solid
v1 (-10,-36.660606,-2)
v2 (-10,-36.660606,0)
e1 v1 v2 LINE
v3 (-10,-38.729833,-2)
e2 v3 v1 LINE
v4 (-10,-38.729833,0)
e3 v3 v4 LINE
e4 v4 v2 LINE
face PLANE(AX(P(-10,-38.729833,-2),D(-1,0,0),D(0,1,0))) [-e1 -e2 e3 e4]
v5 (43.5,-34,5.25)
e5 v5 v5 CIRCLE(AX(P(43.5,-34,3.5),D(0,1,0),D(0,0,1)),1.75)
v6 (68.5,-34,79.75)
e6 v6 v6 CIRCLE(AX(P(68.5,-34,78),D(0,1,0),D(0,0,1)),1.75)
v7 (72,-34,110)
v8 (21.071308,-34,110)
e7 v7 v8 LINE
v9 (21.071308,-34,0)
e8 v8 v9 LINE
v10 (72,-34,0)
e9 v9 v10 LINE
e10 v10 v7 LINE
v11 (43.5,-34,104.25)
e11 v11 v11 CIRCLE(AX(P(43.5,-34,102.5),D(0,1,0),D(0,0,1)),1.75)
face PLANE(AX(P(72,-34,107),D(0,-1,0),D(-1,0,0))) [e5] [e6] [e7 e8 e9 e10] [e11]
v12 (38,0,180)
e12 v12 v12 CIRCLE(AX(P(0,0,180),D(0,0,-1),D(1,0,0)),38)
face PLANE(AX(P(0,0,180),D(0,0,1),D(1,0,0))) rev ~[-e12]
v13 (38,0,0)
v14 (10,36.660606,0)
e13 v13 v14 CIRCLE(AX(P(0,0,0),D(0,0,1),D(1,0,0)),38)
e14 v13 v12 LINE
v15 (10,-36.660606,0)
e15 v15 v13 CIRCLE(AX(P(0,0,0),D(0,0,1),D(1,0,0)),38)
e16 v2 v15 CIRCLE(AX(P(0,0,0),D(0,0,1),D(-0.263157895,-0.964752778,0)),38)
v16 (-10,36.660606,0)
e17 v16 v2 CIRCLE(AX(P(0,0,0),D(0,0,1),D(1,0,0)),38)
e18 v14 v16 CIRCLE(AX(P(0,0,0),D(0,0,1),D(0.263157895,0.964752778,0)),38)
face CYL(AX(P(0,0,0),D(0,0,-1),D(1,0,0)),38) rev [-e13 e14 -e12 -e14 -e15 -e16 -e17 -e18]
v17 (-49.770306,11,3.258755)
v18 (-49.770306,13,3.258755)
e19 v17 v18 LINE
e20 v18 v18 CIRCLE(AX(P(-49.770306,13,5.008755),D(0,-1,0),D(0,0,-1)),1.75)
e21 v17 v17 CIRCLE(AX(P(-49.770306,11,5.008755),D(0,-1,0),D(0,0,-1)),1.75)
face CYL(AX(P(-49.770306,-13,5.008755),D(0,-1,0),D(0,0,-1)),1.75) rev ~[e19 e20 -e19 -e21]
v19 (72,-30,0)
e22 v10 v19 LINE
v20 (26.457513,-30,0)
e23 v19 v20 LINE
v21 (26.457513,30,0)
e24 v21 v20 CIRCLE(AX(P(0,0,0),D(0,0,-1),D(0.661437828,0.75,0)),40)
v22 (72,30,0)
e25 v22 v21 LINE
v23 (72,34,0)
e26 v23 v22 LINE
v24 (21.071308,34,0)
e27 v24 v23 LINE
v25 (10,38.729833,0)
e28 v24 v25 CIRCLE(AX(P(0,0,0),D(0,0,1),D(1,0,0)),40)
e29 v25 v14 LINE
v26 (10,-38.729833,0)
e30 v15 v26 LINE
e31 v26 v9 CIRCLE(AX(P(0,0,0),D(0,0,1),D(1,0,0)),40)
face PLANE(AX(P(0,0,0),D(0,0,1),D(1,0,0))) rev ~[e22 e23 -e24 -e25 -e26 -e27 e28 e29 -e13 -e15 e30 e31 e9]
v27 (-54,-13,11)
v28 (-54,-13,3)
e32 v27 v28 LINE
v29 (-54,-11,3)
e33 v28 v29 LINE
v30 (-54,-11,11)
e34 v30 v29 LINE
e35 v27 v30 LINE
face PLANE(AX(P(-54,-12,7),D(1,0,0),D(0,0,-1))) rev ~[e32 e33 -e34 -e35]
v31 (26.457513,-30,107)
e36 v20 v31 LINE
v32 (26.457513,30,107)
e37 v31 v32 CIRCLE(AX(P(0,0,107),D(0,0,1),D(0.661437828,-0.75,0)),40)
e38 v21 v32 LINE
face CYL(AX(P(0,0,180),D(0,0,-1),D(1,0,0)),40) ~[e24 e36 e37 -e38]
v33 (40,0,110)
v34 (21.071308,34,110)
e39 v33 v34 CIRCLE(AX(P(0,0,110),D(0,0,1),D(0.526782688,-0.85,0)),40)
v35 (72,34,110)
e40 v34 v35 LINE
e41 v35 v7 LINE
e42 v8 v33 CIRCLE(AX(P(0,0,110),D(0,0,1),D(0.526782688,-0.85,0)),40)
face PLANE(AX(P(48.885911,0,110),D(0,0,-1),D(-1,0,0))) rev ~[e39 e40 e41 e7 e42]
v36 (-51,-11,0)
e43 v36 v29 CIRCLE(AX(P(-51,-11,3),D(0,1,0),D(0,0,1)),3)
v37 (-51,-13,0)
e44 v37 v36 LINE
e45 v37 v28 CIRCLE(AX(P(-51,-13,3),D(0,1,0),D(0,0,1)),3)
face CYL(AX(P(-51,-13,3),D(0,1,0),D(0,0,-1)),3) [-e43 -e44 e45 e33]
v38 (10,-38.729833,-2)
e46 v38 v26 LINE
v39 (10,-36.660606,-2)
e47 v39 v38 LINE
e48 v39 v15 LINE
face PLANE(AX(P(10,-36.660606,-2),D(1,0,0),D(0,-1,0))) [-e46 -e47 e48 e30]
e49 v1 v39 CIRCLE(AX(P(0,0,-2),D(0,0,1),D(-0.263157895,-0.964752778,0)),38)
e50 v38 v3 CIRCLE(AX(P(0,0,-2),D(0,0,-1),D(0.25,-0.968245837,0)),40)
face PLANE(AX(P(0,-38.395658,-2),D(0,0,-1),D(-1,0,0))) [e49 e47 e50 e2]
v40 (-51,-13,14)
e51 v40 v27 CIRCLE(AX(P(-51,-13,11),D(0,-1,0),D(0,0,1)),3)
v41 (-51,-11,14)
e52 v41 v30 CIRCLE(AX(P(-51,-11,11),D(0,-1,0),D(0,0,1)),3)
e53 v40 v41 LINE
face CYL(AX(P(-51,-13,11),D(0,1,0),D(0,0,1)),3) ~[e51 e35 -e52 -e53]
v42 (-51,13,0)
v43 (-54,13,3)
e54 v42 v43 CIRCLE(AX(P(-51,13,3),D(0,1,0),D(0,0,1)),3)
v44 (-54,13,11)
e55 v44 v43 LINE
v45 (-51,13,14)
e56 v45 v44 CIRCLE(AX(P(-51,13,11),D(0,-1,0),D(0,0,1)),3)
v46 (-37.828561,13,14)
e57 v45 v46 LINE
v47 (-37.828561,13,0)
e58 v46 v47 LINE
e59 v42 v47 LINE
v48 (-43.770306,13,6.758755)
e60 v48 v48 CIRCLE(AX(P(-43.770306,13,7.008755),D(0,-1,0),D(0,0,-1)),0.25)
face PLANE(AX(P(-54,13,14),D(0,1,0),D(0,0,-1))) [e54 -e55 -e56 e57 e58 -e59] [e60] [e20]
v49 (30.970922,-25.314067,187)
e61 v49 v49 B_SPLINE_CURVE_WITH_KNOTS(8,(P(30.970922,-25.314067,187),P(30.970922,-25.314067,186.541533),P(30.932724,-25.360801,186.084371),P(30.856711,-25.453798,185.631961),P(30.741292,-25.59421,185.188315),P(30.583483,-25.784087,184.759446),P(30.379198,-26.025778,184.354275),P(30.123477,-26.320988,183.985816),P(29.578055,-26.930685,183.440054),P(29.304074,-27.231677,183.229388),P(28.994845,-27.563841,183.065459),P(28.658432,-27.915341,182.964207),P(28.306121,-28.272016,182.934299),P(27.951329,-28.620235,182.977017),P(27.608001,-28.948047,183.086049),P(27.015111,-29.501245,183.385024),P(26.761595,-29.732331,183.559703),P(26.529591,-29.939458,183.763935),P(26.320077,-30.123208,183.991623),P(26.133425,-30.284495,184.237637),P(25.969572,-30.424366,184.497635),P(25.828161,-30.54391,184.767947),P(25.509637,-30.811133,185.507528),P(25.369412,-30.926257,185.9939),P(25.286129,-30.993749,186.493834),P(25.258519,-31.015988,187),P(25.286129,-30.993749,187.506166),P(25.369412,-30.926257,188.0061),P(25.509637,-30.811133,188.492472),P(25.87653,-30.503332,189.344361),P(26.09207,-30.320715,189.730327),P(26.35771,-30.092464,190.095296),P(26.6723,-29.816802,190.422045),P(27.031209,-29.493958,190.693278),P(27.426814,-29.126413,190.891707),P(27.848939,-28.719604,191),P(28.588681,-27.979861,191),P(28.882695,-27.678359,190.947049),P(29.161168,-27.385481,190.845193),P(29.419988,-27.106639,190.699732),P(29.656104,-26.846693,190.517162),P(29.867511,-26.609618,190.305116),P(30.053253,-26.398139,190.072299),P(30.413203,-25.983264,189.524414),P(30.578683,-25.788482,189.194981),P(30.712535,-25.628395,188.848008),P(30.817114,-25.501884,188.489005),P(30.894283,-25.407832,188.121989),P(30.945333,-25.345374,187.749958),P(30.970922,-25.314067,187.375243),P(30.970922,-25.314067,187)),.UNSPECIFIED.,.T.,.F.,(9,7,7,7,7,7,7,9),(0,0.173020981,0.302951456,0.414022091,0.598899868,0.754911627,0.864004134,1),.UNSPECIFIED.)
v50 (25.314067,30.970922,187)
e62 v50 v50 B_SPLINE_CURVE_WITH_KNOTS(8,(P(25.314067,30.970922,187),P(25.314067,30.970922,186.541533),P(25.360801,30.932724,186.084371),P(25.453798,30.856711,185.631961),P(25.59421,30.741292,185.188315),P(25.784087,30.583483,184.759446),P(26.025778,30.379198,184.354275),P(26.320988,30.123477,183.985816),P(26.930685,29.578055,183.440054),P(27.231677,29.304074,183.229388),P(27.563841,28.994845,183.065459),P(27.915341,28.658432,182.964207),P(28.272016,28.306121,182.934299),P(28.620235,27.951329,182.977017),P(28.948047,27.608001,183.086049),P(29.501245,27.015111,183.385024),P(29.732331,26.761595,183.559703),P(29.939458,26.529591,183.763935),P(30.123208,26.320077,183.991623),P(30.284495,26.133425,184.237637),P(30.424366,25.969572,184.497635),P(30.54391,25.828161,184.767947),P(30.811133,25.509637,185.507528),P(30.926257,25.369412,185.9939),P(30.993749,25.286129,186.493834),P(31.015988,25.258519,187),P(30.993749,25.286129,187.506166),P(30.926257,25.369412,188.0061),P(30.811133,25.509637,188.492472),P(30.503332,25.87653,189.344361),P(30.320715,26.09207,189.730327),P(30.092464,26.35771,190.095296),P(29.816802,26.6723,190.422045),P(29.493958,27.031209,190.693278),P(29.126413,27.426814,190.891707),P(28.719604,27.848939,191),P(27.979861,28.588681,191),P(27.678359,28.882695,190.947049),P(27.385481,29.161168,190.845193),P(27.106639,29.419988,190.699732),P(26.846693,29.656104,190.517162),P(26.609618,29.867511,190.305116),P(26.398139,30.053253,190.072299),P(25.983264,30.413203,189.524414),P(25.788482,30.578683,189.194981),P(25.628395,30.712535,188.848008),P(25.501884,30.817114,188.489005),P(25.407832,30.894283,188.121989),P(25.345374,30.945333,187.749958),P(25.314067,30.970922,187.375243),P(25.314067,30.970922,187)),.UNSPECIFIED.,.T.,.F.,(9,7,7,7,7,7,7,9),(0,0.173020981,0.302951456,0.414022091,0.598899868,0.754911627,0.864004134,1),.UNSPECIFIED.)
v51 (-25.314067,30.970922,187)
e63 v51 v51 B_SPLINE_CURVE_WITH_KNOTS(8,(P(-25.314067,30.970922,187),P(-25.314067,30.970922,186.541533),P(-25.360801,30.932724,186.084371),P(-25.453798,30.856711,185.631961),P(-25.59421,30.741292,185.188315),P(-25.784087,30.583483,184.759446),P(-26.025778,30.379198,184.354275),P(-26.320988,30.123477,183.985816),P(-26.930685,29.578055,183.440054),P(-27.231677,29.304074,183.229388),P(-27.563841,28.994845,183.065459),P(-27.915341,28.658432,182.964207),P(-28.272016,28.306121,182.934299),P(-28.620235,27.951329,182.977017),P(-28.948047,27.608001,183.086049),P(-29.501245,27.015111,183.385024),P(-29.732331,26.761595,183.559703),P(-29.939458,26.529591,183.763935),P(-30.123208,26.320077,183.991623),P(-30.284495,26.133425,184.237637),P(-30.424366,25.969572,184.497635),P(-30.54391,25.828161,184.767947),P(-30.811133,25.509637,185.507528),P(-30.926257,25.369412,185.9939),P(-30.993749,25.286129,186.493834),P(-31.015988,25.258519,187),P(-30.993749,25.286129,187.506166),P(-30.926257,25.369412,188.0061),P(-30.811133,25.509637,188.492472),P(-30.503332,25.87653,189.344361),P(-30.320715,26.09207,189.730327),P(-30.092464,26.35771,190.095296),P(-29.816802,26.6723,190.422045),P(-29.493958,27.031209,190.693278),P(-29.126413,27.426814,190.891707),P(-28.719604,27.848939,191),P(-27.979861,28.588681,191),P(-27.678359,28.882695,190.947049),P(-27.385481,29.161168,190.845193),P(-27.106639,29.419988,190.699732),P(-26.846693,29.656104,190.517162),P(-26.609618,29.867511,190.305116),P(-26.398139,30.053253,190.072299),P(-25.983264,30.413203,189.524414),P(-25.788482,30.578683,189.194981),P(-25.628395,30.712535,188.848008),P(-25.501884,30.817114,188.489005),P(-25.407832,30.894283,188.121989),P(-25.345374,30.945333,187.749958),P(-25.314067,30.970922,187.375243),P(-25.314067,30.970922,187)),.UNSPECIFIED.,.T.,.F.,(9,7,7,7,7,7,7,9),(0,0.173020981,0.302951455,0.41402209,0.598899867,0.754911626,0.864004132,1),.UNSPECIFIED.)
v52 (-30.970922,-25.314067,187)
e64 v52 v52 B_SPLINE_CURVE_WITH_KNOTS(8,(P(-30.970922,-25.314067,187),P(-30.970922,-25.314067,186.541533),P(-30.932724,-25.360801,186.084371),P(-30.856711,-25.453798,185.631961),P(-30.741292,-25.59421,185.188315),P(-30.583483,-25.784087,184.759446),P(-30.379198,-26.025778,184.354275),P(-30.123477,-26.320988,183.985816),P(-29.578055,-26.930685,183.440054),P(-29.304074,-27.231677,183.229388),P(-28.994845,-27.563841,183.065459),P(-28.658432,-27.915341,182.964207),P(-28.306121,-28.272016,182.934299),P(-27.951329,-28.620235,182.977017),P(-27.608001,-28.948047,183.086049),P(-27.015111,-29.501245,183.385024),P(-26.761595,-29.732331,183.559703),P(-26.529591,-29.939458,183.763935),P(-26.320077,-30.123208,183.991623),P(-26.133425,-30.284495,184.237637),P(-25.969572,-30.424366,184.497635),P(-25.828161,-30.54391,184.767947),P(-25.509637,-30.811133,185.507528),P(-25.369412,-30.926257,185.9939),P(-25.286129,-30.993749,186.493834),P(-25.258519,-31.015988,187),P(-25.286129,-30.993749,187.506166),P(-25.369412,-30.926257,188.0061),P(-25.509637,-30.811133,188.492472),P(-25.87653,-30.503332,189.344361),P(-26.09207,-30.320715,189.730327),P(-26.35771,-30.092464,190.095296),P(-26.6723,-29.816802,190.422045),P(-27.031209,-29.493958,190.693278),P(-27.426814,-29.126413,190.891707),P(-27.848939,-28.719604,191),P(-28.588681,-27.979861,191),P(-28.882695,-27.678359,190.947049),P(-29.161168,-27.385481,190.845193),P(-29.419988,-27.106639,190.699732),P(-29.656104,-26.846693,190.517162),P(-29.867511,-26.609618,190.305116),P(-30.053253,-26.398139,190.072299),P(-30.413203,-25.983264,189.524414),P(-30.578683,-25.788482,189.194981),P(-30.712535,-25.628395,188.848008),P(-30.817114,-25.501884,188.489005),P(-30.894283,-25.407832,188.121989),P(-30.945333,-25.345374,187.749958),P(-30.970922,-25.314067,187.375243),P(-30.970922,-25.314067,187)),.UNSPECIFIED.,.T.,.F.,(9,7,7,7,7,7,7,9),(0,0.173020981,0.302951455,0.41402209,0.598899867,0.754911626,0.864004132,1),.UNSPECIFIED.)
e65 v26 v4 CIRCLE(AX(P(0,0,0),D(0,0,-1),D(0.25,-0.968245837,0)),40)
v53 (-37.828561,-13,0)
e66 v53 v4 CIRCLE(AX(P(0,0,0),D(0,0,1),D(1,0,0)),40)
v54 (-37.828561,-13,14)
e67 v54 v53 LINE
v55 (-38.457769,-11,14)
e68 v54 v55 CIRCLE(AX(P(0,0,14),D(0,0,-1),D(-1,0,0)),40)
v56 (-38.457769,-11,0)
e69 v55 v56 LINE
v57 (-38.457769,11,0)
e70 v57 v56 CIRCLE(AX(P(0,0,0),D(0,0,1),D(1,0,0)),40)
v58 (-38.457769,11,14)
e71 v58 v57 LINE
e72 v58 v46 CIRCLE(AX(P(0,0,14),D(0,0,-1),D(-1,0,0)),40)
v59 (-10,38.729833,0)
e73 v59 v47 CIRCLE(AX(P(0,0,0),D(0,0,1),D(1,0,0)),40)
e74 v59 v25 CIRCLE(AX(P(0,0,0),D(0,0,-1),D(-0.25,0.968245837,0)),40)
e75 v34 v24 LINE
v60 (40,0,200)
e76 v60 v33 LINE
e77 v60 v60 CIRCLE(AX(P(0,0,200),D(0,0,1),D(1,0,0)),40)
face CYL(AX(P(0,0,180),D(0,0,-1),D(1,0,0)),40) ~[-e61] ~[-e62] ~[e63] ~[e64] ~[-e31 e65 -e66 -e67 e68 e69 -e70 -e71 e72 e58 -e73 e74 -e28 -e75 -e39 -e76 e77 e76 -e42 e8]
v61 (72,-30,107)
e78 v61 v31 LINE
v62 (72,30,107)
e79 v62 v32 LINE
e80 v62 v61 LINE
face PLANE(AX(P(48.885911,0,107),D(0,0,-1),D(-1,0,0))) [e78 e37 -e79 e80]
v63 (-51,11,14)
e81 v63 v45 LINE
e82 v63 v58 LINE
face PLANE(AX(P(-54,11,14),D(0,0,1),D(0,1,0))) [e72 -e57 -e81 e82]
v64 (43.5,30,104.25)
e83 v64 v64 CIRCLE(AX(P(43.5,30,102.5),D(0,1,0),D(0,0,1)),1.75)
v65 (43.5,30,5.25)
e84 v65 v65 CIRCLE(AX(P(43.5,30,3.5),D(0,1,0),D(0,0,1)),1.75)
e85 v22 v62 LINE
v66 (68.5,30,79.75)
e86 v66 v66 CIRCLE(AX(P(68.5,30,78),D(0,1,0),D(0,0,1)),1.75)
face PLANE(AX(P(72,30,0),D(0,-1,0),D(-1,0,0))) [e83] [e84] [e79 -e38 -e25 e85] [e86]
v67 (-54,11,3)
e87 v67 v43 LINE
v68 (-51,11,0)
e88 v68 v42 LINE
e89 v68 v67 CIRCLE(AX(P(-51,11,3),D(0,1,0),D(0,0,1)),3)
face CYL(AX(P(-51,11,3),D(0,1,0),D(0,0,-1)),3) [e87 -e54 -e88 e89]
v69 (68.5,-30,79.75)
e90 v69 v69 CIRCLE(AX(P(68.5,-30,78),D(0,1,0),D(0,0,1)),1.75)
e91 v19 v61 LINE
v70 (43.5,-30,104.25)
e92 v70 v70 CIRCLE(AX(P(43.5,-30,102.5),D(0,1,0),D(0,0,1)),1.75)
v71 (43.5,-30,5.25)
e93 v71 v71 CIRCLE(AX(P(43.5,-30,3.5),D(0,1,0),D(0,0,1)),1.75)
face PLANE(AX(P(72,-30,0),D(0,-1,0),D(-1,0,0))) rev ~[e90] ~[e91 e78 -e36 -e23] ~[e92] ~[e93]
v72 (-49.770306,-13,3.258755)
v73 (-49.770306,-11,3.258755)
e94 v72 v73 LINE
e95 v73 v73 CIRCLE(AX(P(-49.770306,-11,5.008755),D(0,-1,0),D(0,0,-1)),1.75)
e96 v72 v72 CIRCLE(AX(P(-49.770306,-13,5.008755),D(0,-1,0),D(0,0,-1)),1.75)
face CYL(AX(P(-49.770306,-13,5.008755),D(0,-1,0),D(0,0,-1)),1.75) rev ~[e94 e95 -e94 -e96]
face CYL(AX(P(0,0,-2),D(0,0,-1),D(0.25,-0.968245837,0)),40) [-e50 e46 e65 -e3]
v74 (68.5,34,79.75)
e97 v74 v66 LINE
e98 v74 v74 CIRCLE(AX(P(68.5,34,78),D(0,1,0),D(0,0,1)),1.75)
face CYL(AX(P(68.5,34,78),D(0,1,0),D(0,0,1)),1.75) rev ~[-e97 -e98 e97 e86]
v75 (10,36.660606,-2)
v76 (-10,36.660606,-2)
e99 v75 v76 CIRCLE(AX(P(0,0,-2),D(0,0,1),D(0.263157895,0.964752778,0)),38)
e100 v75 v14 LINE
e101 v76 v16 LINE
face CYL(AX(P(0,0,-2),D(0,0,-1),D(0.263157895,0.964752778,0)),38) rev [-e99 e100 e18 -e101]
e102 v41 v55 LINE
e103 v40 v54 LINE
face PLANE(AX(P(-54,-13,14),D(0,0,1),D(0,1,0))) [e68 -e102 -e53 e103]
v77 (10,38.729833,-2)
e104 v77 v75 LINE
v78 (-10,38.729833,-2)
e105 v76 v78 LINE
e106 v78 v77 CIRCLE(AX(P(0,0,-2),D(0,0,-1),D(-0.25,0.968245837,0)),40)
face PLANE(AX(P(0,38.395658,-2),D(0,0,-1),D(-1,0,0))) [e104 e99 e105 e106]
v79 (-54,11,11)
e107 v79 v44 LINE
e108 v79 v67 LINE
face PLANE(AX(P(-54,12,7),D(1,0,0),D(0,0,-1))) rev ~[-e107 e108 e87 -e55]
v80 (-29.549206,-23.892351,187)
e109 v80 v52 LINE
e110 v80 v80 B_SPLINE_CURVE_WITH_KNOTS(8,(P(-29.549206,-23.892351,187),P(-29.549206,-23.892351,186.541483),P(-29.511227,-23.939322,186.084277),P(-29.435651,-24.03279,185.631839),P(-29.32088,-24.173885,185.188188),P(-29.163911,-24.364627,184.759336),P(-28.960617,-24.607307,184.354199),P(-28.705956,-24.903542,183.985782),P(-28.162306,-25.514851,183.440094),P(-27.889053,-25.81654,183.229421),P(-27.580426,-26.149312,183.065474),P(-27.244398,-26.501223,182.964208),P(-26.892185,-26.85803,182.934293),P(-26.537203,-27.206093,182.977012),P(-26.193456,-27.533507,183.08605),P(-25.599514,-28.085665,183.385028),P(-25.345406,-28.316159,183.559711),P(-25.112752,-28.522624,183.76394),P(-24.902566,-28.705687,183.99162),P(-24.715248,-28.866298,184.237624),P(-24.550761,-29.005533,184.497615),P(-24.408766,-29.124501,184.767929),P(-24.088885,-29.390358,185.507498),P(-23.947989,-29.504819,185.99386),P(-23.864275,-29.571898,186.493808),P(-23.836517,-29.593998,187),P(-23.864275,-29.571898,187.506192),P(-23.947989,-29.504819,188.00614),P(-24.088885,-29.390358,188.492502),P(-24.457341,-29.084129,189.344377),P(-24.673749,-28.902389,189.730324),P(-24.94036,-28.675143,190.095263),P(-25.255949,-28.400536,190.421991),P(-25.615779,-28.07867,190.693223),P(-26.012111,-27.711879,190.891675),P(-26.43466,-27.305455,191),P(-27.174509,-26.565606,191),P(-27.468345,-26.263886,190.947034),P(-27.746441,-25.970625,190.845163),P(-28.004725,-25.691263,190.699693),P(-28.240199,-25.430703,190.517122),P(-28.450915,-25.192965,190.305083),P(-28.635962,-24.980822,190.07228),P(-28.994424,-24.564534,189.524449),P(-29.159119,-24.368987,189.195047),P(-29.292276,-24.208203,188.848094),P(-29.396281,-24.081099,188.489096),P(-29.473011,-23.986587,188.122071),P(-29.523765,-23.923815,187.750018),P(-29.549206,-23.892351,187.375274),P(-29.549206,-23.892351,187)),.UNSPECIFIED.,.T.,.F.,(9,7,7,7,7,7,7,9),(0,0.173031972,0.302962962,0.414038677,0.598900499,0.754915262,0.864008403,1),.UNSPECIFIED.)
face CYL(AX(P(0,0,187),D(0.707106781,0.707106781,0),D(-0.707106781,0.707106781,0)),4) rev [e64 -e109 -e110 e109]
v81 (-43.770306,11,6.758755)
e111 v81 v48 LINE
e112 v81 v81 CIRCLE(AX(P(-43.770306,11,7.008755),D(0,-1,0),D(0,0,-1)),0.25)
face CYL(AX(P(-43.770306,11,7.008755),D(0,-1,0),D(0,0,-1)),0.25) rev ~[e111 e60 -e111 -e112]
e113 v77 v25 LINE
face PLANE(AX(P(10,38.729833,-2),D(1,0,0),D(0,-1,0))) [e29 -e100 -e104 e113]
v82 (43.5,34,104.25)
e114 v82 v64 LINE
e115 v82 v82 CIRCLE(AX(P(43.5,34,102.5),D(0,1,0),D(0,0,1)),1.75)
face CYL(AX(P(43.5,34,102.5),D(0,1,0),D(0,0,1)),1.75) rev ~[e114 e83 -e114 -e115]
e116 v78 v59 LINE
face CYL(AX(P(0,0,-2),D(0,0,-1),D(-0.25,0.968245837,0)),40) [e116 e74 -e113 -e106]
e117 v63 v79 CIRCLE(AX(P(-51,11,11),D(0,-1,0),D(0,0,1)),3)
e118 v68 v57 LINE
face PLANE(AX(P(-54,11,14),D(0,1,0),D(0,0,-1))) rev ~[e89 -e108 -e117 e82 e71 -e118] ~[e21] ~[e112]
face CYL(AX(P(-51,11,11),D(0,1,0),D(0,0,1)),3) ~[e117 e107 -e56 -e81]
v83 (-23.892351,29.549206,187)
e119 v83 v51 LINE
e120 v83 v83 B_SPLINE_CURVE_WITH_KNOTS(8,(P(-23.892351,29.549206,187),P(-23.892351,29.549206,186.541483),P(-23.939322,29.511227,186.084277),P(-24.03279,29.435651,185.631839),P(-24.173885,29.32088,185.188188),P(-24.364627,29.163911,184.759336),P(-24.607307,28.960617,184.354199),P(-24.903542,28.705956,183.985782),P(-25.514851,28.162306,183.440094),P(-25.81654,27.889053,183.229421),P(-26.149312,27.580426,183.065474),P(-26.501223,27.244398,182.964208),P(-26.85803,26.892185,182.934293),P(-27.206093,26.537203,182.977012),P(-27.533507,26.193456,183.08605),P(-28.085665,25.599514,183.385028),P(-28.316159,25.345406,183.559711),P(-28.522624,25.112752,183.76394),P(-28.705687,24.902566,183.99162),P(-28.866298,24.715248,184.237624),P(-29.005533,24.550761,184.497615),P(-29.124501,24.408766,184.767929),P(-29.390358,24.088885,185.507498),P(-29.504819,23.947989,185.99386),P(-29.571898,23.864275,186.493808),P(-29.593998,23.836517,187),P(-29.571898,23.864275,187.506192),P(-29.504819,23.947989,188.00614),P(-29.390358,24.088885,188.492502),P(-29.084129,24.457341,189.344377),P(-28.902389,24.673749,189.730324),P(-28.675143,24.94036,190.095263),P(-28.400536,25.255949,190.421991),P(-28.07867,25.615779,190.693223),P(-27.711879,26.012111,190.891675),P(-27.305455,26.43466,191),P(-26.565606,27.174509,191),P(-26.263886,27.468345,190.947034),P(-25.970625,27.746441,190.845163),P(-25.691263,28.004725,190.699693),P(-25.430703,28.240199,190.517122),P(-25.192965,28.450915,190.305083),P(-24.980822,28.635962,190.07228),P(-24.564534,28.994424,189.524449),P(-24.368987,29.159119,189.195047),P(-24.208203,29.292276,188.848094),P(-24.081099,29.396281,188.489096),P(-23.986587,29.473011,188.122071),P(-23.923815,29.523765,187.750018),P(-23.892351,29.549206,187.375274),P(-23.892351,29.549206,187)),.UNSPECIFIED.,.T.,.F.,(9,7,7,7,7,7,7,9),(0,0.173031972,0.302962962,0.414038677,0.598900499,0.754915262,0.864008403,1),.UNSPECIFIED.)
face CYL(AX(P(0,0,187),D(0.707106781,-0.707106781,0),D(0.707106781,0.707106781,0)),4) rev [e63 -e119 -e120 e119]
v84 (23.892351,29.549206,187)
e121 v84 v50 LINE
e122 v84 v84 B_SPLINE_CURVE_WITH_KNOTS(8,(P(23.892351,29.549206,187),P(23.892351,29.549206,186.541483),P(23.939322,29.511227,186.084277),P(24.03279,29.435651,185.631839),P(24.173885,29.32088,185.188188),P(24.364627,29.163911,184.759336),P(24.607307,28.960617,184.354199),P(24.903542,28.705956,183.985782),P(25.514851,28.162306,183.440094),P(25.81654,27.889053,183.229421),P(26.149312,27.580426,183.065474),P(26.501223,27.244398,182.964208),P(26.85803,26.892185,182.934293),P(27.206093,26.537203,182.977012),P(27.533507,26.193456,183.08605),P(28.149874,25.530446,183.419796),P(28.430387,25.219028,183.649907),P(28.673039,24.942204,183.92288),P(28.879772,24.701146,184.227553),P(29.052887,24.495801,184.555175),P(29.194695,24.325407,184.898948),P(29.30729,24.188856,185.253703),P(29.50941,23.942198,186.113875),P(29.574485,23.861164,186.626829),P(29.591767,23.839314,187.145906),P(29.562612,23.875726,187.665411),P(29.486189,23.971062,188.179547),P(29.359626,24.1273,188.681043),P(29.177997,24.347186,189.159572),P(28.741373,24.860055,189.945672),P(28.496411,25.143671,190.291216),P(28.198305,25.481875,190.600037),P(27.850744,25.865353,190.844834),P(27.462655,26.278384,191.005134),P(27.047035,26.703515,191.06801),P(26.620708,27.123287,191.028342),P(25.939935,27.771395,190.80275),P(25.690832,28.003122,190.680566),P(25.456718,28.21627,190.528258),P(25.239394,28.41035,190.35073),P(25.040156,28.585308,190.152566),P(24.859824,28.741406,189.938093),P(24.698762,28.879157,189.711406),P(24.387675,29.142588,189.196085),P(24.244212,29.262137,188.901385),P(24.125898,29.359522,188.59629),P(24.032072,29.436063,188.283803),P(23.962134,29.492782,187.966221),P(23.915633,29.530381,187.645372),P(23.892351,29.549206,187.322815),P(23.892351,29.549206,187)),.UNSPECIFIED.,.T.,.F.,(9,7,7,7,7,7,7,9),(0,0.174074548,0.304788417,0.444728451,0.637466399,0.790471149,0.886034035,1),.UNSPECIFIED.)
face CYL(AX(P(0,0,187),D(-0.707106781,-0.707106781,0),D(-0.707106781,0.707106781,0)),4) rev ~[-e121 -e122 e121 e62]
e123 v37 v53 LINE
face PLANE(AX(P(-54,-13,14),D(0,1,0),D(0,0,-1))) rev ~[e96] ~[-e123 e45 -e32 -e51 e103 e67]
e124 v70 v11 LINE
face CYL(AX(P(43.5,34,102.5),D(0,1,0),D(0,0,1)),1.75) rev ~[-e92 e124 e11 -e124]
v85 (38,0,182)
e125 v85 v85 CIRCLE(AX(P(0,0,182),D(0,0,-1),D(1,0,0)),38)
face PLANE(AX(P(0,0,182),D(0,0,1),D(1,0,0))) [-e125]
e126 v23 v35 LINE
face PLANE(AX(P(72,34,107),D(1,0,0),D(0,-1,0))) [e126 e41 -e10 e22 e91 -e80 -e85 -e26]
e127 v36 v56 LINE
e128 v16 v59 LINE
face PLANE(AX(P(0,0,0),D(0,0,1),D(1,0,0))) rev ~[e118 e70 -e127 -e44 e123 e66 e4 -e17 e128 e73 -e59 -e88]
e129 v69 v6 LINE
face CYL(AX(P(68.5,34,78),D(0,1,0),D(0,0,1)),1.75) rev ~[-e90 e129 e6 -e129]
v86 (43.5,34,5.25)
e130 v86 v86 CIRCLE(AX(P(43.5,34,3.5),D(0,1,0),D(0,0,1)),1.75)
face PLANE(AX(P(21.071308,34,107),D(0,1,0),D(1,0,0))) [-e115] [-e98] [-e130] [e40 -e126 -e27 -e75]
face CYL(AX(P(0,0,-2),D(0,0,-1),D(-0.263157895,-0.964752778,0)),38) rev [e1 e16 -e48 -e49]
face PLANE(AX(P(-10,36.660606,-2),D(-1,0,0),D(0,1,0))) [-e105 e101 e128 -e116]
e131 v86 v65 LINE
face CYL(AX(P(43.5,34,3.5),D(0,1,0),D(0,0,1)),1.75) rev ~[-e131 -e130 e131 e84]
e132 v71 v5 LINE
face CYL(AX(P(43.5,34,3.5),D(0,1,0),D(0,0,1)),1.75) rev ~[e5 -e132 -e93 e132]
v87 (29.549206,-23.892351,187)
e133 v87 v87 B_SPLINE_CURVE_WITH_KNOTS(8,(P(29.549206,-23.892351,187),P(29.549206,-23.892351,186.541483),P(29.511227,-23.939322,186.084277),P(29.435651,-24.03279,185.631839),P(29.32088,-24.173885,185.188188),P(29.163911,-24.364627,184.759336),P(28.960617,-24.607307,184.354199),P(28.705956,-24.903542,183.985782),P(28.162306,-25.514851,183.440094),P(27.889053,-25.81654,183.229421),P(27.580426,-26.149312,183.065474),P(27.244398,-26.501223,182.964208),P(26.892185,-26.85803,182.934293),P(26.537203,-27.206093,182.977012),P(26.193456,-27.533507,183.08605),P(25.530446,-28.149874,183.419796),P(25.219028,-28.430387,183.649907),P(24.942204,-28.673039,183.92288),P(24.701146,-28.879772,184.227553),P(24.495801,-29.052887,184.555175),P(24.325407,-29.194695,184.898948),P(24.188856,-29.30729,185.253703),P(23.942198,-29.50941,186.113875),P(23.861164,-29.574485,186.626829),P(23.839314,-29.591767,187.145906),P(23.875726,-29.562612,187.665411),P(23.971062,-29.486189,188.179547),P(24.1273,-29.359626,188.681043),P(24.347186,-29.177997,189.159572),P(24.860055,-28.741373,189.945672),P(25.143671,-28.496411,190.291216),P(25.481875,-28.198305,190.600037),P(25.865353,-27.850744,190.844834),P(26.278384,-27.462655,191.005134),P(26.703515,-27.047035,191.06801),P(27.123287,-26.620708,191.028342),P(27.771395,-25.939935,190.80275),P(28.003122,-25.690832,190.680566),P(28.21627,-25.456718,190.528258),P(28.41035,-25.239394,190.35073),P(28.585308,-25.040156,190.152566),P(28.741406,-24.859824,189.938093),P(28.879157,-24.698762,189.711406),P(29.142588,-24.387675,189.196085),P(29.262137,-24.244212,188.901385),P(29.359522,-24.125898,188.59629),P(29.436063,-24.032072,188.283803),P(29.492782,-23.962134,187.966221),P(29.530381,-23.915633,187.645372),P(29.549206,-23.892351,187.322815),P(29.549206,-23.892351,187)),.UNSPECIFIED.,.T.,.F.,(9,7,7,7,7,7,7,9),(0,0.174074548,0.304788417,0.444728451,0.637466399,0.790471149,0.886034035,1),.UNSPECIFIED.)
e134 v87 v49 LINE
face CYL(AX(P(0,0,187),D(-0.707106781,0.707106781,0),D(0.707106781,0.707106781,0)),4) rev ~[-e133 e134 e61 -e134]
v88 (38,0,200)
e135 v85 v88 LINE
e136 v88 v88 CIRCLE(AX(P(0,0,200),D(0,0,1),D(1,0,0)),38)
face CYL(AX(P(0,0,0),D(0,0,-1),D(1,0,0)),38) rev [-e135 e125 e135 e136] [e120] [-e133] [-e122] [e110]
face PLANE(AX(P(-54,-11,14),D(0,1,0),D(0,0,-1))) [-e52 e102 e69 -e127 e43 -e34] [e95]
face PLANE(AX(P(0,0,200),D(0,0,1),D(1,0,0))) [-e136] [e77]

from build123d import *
from build123d.topology import SkipClean

# Parameters (mm, degrees)
SKETCH1_R                      = 40
SKETCH1_R_2                    = 38
BOSS_EXTRUDE1_DEPTH            = 200
SKETCH2_R                      = 40
BOSS_EXTRUDE2_DEPTH            = 2
BOSS_EXTRUDE3_DEPTH            = 107
BOSS_EXTRUDE4_DEPTH            = 3
SKETCH5_R                      = 1.75
CUT_EXTRUDE1_DEPTH             = 226.077764339
CUT_EXTRUDE2_REACH             = 218.296
SKETCH6_R                      = 4
CUT_EXTRUDE2_DIRECTION_2_REACH = 218.296
CIRPATTERN1_COUNT              = 2
CIRPATTERN1_ANGLE              = 90
BOSS_EXTRUDE5_REACH            = 241.742
BOSS_EXTRUDE5_END_RADIUS       = 40
SKETCH7_W                      = 14
SKETCH7_H                      = 2
CUT_EXTRUDE3_REACH             = 221.073
SKETCH8_R                      = 1.75
FILLET1_R                      = 3
CUT_EXTRUDE4_REACH             = 220.598
SKETCH9_R                      = 0.25
BOSS_EXTRUDE6_START            = 2
BOSS_EXTRUDE6_DEPTH            = 2


with BuildPart() as part:
    # Sketch1 → Boss-Extrude1 (new body)
    with BuildSketch(Plane.XY):
        Circle(SKETCH1_R)
        Circle(SKETCH1_R_2, mode=Mode.SUBTRACT)
    extrude(amount=BOSS_EXTRUDE1_DEPTH)

    # Sketch2 → Boss-Extrude2 (add)
    with BuildSketch(Plane.XY.offset(180)):
        Circle(SKETCH2_R)
    extrude(amount=BOSS_EXTRUDE2_DEPTH)

    # Sketch3 → Boss-Extrude3 (add)
    with BuildSketch(Plane(origin=(0, 0, 0), x_dir=(-1, 0, 0), z_dir=(0, 0, -1))):
        with BuildLine():
            Line((-21.071307506, -34), (-72, -34))
            Line((-72, -34), (-72, -30))
            Line((-72, -30), (-26.457513111, -30))
            ThreePointArc((-26.457513111, -30), (-23.848421275, -32.113125085), (-21.071307506, -34))
        make_face()
        with BuildLine():
            Line((-21.071307506, 34), (-72, 34))
            Line((-72, 34), (-72, 30))
            Line((-72, 30), (-26.457513111, 30))
            ThreePointArc((-26.457513111, 30), (-23.848421275, 32.113125085), (-21.071307506, 34))
        make_face()
    extrude(amount=-BOSS_EXTRUDE3_DEPTH)

    # Sketch4 → Boss-Extrude4 (add)
    with BuildSketch(Plane.XY.offset(107)):
        with BuildLine():
            Line((72, -34), (21.071307506, -34))
            ThreePointArc((21.071307506, -34), (40, 0), (21.071307506, 34))
            Line((21.071307506, 34), (72, 34))
            Line((72, 34), (72, -34))
        make_face()
    extrude(amount=BOSS_EXTRUDE4_DEPTH)

    # Sketch5 → Cut-Extrude1 (cut, through all)
    with BuildSketch(Plane(origin=(0, 34, 0), x_dir=(1, 0, 0), z_dir=(0, 1, 0))):
        with Locations(Location((43.5, -102.5, 0), (0, 0, 270))):
            Circle(SKETCH5_R)
        with Locations(Location((43.5, -3.5, 0), (0, 0, 270))):
            Circle(SKETCH5_R)
        with Locations(Location((68.5, -78, 0), (0, 0, 270))):
            Circle(SKETCH5_R)
    extrude(amount=-CUT_EXTRUDE1_DEPTH, mode=Mode.SUBTRACT)

    # Sketch6 → Cut-Extrude2 (cut, up to next)
    with BuildSketch(Plane(origin=(0, 0, 0), x_dir=(0, 0, 1), z_dir=(-0.7071067811865488, 0.7071067811865464, 0)), mode=Mode.PRIVATE) as cut_extrude2_sk1:
        with Locations(Location((187, 0, 0), (0, 0, 90))):
            Circle(SKETCH6_R)
    cut_extrude2_tool1 = extrude(cut_extrude2_sk1.sketch, amount=-CUT_EXTRUDE2_REACH, mode=Mode.PRIVATE) & part.part
    cut_extrude2 = cut_extrude2_tool1.solids().sort_by_distance((0, 0, 187))[0]
    add(cut_extrude2, mode=Mode.SUBTRACT)

    # Sketch6 → Cut-Extrude2 direction 2 (cut, up to next)
    with BuildSketch(Plane(origin=(0, 0, 0), x_dir=(0, 0, 1), z_dir=(-0.7071067811865488, 0.7071067811865464, 0)), mode=Mode.PRIVATE) as cut_extrude2_direction_2_sk1:
        with Locations(Location((187, 0, 0), (0, 0, 90))):
            Circle(SKETCH6_R)
    cut_extrude2_direction_2_tool1 = extrude(cut_extrude2_direction_2_sk1.sketch, amount=CUT_EXTRUDE2_DIRECTION_2_REACH, mode=Mode.PRIVATE) & part.part
    cut_extrude2_direction_2 = cut_extrude2_direction_2_tool1.solids().sort_by_distance((0, 0, 187))[0]
    add(cut_extrude2_direction_2, mode=Mode.SUBTRACT)

    # CirPattern1: Cut-Extrude2, Cut-Extrude2 direction 2 ×2 about axis
    cirpattern1_axis = Axis((0, 0, 106.8), (0, 0, 1))
    add([cut_extrude2.rotate(cirpattern1_axis, i * CIRPATTERN1_ANGLE / (CIRPATTERN1_COUNT - 1)) for i in range(1, CIRPATTERN1_COUNT)], mode=Mode.SUBTRACT)
    add([cut_extrude2_direction_2.rotate(cirpattern1_axis, i * CIRPATTERN1_ANGLE / (CIRPATTERN1_COUNT - 1)) for i in range(1, CIRPATTERN1_COUNT)], mode=Mode.SUBTRACT)

    # Boss-Extrude5: up to this cylinder (the profile starts outside it)
    boss_extrude5_end = Plane(origin=(0, 0, 7), z_dir=(0, 0, -1)) * Cylinder(BOSS_EXTRUDE5_END_RADIUS, 564.484, mode=Mode.PRIVATE)
    # Sketch7 → Boss-Extrude5 (add, up to the surface)
    with BuildSketch(Plane(origin=(-54, 0, 0), x_dir=(0, 0, -1), z_dir=(1, 0, 0)), mode=Mode.PRIVATE) as boss_extrude5_sk1:
        with Locations((-7, -12)):
            Rectangle(SKETCH7_W, SKETCH7_H)
    boss_extrude5_tool1 = extrude(boss_extrude5_sk1.sketch, amount=BOSS_EXTRUDE5_REACH, mode=Mode.PRIVATE) - boss_extrude5_end
    add(boss_extrude5_tool1.solids().sort_by_distance((-54, -12, 7))[0])
    # Sketch7 → Boss-Extrude5 (add, up to the surface)
    with BuildSketch(Plane(origin=(-54, 0, 0), x_dir=(0, 0, -1), z_dir=(1, 0, 0)), mode=Mode.PRIVATE) as boss_extrude5_sk2:
        with Locations((-7, 12)):
            Rectangle(SKETCH7_W, SKETCH7_H)
    boss_extrude5_tool2 = extrude(boss_extrude5_sk2.sketch, amount=BOSS_EXTRUDE5_REACH, mode=Mode.PRIVATE) - boss_extrude5_end
    add(boss_extrude5_tool2.solids().sort_by_distance((-54, 12, 7))[0])

    # Cut-Extrude3: up to this face of the body (flat: up to its plane)
    cut_extrude3_end = Plane(part.part.faces().sort_by_distance((-45.914280319, 13, 7))[0])
    # Sketch8 → Cut-Extrude3 (cut, up to the picked face)
    with BuildSketch(Plane.XZ.offset(13), mode=Mode.PRIVATE) as cut_extrude3_sk1:
        with Locations(Location((-49.770305539, 5.008755099, 0), (0, 0, 270))):
            Circle(SKETCH8_R)
    cut_extrude3_tool1 = split(extrude(cut_extrude3_sk1.sketch, amount=-CUT_EXTRUDE3_REACH, mode=Mode.PRIVATE), bisect_by=cut_extrude3_end, keep=Keep.BOTH, mode=Mode.PRIVATE)
    add(cut_extrude3_tool1.solids().sort_by(Axis((-49.770306, -13, 5.008755), (0, 1, 0)))[0], mode=Mode.SUBTRACT)

    # Fillet1
    fillet1_edges = [part.edges().sort_by_distance(p)[0] for p in [
        (-54, -12, 14),
        (-54, -12, 0),
        (-54, 12, 0),
        (-54, 12, 14),
    ]]
    fillet(fillet1_edges, radius=FILLET1_R)

    # Sketch9 → Cut-Extrude4 (cut, up to next)
    with BuildSketch(Plane.XZ.offset(-11), mode=Mode.PRIVATE) as cut_extrude4_sk1:
        with Locations(Location((-43.770305539, 7.008755099, 0), (0, 0, 270))):
            Circle(SKETCH9_R)
    cut_extrude4_tool1 = extrude(cut_extrude4_sk1.sketch, amount=-CUT_EXTRUDE4_REACH, mode=Mode.PRIVATE) & part.part
    add(cut_extrude4_tool1.solids().sort_by_distance((-43.770306, 11, 7.008755))[0], mode=Mode.SUBTRACT)

    # Sketch10 → Boss-Extrude6 (add)
    with SkipClean():  # the faces are left unmerged after this step: merging them gives an invalid solid
        with BuildSketch(Plane(origin=(0, 0, 0), x_dir=(-1, 0, 0), z_dir=(0, 0, -1)).offset(BOSS_EXTRUDE6_START)):
            with BuildLine():
                ThreePointArc((10, -36.66060556), (0, -38), (-10, -36.66060556))
                Line((-10, -36.66060556), (-10, -38.729833462))
                ThreePointArc((-10, -38.729833462), (0, -40), (10, -38.729833462))
                Line((10, -38.729833462), (10, -36.66060556))
            make_face()
            with BuildLine():
                ThreePointArc((10, 38.729833462), (0, 40), (-10, 38.729833462))
                Line((-10, 38.729833462), (-10, 36.66060556))
                ThreePointArc((-10, 36.66060556), (0, 38), (10, 36.66060556))
                Line((10, 36.66060556), (10, 38.729833462))
            make_face()
        extrude(amount=-BOSS_EXTRUDE6_DEPTH)


solid = part.part
